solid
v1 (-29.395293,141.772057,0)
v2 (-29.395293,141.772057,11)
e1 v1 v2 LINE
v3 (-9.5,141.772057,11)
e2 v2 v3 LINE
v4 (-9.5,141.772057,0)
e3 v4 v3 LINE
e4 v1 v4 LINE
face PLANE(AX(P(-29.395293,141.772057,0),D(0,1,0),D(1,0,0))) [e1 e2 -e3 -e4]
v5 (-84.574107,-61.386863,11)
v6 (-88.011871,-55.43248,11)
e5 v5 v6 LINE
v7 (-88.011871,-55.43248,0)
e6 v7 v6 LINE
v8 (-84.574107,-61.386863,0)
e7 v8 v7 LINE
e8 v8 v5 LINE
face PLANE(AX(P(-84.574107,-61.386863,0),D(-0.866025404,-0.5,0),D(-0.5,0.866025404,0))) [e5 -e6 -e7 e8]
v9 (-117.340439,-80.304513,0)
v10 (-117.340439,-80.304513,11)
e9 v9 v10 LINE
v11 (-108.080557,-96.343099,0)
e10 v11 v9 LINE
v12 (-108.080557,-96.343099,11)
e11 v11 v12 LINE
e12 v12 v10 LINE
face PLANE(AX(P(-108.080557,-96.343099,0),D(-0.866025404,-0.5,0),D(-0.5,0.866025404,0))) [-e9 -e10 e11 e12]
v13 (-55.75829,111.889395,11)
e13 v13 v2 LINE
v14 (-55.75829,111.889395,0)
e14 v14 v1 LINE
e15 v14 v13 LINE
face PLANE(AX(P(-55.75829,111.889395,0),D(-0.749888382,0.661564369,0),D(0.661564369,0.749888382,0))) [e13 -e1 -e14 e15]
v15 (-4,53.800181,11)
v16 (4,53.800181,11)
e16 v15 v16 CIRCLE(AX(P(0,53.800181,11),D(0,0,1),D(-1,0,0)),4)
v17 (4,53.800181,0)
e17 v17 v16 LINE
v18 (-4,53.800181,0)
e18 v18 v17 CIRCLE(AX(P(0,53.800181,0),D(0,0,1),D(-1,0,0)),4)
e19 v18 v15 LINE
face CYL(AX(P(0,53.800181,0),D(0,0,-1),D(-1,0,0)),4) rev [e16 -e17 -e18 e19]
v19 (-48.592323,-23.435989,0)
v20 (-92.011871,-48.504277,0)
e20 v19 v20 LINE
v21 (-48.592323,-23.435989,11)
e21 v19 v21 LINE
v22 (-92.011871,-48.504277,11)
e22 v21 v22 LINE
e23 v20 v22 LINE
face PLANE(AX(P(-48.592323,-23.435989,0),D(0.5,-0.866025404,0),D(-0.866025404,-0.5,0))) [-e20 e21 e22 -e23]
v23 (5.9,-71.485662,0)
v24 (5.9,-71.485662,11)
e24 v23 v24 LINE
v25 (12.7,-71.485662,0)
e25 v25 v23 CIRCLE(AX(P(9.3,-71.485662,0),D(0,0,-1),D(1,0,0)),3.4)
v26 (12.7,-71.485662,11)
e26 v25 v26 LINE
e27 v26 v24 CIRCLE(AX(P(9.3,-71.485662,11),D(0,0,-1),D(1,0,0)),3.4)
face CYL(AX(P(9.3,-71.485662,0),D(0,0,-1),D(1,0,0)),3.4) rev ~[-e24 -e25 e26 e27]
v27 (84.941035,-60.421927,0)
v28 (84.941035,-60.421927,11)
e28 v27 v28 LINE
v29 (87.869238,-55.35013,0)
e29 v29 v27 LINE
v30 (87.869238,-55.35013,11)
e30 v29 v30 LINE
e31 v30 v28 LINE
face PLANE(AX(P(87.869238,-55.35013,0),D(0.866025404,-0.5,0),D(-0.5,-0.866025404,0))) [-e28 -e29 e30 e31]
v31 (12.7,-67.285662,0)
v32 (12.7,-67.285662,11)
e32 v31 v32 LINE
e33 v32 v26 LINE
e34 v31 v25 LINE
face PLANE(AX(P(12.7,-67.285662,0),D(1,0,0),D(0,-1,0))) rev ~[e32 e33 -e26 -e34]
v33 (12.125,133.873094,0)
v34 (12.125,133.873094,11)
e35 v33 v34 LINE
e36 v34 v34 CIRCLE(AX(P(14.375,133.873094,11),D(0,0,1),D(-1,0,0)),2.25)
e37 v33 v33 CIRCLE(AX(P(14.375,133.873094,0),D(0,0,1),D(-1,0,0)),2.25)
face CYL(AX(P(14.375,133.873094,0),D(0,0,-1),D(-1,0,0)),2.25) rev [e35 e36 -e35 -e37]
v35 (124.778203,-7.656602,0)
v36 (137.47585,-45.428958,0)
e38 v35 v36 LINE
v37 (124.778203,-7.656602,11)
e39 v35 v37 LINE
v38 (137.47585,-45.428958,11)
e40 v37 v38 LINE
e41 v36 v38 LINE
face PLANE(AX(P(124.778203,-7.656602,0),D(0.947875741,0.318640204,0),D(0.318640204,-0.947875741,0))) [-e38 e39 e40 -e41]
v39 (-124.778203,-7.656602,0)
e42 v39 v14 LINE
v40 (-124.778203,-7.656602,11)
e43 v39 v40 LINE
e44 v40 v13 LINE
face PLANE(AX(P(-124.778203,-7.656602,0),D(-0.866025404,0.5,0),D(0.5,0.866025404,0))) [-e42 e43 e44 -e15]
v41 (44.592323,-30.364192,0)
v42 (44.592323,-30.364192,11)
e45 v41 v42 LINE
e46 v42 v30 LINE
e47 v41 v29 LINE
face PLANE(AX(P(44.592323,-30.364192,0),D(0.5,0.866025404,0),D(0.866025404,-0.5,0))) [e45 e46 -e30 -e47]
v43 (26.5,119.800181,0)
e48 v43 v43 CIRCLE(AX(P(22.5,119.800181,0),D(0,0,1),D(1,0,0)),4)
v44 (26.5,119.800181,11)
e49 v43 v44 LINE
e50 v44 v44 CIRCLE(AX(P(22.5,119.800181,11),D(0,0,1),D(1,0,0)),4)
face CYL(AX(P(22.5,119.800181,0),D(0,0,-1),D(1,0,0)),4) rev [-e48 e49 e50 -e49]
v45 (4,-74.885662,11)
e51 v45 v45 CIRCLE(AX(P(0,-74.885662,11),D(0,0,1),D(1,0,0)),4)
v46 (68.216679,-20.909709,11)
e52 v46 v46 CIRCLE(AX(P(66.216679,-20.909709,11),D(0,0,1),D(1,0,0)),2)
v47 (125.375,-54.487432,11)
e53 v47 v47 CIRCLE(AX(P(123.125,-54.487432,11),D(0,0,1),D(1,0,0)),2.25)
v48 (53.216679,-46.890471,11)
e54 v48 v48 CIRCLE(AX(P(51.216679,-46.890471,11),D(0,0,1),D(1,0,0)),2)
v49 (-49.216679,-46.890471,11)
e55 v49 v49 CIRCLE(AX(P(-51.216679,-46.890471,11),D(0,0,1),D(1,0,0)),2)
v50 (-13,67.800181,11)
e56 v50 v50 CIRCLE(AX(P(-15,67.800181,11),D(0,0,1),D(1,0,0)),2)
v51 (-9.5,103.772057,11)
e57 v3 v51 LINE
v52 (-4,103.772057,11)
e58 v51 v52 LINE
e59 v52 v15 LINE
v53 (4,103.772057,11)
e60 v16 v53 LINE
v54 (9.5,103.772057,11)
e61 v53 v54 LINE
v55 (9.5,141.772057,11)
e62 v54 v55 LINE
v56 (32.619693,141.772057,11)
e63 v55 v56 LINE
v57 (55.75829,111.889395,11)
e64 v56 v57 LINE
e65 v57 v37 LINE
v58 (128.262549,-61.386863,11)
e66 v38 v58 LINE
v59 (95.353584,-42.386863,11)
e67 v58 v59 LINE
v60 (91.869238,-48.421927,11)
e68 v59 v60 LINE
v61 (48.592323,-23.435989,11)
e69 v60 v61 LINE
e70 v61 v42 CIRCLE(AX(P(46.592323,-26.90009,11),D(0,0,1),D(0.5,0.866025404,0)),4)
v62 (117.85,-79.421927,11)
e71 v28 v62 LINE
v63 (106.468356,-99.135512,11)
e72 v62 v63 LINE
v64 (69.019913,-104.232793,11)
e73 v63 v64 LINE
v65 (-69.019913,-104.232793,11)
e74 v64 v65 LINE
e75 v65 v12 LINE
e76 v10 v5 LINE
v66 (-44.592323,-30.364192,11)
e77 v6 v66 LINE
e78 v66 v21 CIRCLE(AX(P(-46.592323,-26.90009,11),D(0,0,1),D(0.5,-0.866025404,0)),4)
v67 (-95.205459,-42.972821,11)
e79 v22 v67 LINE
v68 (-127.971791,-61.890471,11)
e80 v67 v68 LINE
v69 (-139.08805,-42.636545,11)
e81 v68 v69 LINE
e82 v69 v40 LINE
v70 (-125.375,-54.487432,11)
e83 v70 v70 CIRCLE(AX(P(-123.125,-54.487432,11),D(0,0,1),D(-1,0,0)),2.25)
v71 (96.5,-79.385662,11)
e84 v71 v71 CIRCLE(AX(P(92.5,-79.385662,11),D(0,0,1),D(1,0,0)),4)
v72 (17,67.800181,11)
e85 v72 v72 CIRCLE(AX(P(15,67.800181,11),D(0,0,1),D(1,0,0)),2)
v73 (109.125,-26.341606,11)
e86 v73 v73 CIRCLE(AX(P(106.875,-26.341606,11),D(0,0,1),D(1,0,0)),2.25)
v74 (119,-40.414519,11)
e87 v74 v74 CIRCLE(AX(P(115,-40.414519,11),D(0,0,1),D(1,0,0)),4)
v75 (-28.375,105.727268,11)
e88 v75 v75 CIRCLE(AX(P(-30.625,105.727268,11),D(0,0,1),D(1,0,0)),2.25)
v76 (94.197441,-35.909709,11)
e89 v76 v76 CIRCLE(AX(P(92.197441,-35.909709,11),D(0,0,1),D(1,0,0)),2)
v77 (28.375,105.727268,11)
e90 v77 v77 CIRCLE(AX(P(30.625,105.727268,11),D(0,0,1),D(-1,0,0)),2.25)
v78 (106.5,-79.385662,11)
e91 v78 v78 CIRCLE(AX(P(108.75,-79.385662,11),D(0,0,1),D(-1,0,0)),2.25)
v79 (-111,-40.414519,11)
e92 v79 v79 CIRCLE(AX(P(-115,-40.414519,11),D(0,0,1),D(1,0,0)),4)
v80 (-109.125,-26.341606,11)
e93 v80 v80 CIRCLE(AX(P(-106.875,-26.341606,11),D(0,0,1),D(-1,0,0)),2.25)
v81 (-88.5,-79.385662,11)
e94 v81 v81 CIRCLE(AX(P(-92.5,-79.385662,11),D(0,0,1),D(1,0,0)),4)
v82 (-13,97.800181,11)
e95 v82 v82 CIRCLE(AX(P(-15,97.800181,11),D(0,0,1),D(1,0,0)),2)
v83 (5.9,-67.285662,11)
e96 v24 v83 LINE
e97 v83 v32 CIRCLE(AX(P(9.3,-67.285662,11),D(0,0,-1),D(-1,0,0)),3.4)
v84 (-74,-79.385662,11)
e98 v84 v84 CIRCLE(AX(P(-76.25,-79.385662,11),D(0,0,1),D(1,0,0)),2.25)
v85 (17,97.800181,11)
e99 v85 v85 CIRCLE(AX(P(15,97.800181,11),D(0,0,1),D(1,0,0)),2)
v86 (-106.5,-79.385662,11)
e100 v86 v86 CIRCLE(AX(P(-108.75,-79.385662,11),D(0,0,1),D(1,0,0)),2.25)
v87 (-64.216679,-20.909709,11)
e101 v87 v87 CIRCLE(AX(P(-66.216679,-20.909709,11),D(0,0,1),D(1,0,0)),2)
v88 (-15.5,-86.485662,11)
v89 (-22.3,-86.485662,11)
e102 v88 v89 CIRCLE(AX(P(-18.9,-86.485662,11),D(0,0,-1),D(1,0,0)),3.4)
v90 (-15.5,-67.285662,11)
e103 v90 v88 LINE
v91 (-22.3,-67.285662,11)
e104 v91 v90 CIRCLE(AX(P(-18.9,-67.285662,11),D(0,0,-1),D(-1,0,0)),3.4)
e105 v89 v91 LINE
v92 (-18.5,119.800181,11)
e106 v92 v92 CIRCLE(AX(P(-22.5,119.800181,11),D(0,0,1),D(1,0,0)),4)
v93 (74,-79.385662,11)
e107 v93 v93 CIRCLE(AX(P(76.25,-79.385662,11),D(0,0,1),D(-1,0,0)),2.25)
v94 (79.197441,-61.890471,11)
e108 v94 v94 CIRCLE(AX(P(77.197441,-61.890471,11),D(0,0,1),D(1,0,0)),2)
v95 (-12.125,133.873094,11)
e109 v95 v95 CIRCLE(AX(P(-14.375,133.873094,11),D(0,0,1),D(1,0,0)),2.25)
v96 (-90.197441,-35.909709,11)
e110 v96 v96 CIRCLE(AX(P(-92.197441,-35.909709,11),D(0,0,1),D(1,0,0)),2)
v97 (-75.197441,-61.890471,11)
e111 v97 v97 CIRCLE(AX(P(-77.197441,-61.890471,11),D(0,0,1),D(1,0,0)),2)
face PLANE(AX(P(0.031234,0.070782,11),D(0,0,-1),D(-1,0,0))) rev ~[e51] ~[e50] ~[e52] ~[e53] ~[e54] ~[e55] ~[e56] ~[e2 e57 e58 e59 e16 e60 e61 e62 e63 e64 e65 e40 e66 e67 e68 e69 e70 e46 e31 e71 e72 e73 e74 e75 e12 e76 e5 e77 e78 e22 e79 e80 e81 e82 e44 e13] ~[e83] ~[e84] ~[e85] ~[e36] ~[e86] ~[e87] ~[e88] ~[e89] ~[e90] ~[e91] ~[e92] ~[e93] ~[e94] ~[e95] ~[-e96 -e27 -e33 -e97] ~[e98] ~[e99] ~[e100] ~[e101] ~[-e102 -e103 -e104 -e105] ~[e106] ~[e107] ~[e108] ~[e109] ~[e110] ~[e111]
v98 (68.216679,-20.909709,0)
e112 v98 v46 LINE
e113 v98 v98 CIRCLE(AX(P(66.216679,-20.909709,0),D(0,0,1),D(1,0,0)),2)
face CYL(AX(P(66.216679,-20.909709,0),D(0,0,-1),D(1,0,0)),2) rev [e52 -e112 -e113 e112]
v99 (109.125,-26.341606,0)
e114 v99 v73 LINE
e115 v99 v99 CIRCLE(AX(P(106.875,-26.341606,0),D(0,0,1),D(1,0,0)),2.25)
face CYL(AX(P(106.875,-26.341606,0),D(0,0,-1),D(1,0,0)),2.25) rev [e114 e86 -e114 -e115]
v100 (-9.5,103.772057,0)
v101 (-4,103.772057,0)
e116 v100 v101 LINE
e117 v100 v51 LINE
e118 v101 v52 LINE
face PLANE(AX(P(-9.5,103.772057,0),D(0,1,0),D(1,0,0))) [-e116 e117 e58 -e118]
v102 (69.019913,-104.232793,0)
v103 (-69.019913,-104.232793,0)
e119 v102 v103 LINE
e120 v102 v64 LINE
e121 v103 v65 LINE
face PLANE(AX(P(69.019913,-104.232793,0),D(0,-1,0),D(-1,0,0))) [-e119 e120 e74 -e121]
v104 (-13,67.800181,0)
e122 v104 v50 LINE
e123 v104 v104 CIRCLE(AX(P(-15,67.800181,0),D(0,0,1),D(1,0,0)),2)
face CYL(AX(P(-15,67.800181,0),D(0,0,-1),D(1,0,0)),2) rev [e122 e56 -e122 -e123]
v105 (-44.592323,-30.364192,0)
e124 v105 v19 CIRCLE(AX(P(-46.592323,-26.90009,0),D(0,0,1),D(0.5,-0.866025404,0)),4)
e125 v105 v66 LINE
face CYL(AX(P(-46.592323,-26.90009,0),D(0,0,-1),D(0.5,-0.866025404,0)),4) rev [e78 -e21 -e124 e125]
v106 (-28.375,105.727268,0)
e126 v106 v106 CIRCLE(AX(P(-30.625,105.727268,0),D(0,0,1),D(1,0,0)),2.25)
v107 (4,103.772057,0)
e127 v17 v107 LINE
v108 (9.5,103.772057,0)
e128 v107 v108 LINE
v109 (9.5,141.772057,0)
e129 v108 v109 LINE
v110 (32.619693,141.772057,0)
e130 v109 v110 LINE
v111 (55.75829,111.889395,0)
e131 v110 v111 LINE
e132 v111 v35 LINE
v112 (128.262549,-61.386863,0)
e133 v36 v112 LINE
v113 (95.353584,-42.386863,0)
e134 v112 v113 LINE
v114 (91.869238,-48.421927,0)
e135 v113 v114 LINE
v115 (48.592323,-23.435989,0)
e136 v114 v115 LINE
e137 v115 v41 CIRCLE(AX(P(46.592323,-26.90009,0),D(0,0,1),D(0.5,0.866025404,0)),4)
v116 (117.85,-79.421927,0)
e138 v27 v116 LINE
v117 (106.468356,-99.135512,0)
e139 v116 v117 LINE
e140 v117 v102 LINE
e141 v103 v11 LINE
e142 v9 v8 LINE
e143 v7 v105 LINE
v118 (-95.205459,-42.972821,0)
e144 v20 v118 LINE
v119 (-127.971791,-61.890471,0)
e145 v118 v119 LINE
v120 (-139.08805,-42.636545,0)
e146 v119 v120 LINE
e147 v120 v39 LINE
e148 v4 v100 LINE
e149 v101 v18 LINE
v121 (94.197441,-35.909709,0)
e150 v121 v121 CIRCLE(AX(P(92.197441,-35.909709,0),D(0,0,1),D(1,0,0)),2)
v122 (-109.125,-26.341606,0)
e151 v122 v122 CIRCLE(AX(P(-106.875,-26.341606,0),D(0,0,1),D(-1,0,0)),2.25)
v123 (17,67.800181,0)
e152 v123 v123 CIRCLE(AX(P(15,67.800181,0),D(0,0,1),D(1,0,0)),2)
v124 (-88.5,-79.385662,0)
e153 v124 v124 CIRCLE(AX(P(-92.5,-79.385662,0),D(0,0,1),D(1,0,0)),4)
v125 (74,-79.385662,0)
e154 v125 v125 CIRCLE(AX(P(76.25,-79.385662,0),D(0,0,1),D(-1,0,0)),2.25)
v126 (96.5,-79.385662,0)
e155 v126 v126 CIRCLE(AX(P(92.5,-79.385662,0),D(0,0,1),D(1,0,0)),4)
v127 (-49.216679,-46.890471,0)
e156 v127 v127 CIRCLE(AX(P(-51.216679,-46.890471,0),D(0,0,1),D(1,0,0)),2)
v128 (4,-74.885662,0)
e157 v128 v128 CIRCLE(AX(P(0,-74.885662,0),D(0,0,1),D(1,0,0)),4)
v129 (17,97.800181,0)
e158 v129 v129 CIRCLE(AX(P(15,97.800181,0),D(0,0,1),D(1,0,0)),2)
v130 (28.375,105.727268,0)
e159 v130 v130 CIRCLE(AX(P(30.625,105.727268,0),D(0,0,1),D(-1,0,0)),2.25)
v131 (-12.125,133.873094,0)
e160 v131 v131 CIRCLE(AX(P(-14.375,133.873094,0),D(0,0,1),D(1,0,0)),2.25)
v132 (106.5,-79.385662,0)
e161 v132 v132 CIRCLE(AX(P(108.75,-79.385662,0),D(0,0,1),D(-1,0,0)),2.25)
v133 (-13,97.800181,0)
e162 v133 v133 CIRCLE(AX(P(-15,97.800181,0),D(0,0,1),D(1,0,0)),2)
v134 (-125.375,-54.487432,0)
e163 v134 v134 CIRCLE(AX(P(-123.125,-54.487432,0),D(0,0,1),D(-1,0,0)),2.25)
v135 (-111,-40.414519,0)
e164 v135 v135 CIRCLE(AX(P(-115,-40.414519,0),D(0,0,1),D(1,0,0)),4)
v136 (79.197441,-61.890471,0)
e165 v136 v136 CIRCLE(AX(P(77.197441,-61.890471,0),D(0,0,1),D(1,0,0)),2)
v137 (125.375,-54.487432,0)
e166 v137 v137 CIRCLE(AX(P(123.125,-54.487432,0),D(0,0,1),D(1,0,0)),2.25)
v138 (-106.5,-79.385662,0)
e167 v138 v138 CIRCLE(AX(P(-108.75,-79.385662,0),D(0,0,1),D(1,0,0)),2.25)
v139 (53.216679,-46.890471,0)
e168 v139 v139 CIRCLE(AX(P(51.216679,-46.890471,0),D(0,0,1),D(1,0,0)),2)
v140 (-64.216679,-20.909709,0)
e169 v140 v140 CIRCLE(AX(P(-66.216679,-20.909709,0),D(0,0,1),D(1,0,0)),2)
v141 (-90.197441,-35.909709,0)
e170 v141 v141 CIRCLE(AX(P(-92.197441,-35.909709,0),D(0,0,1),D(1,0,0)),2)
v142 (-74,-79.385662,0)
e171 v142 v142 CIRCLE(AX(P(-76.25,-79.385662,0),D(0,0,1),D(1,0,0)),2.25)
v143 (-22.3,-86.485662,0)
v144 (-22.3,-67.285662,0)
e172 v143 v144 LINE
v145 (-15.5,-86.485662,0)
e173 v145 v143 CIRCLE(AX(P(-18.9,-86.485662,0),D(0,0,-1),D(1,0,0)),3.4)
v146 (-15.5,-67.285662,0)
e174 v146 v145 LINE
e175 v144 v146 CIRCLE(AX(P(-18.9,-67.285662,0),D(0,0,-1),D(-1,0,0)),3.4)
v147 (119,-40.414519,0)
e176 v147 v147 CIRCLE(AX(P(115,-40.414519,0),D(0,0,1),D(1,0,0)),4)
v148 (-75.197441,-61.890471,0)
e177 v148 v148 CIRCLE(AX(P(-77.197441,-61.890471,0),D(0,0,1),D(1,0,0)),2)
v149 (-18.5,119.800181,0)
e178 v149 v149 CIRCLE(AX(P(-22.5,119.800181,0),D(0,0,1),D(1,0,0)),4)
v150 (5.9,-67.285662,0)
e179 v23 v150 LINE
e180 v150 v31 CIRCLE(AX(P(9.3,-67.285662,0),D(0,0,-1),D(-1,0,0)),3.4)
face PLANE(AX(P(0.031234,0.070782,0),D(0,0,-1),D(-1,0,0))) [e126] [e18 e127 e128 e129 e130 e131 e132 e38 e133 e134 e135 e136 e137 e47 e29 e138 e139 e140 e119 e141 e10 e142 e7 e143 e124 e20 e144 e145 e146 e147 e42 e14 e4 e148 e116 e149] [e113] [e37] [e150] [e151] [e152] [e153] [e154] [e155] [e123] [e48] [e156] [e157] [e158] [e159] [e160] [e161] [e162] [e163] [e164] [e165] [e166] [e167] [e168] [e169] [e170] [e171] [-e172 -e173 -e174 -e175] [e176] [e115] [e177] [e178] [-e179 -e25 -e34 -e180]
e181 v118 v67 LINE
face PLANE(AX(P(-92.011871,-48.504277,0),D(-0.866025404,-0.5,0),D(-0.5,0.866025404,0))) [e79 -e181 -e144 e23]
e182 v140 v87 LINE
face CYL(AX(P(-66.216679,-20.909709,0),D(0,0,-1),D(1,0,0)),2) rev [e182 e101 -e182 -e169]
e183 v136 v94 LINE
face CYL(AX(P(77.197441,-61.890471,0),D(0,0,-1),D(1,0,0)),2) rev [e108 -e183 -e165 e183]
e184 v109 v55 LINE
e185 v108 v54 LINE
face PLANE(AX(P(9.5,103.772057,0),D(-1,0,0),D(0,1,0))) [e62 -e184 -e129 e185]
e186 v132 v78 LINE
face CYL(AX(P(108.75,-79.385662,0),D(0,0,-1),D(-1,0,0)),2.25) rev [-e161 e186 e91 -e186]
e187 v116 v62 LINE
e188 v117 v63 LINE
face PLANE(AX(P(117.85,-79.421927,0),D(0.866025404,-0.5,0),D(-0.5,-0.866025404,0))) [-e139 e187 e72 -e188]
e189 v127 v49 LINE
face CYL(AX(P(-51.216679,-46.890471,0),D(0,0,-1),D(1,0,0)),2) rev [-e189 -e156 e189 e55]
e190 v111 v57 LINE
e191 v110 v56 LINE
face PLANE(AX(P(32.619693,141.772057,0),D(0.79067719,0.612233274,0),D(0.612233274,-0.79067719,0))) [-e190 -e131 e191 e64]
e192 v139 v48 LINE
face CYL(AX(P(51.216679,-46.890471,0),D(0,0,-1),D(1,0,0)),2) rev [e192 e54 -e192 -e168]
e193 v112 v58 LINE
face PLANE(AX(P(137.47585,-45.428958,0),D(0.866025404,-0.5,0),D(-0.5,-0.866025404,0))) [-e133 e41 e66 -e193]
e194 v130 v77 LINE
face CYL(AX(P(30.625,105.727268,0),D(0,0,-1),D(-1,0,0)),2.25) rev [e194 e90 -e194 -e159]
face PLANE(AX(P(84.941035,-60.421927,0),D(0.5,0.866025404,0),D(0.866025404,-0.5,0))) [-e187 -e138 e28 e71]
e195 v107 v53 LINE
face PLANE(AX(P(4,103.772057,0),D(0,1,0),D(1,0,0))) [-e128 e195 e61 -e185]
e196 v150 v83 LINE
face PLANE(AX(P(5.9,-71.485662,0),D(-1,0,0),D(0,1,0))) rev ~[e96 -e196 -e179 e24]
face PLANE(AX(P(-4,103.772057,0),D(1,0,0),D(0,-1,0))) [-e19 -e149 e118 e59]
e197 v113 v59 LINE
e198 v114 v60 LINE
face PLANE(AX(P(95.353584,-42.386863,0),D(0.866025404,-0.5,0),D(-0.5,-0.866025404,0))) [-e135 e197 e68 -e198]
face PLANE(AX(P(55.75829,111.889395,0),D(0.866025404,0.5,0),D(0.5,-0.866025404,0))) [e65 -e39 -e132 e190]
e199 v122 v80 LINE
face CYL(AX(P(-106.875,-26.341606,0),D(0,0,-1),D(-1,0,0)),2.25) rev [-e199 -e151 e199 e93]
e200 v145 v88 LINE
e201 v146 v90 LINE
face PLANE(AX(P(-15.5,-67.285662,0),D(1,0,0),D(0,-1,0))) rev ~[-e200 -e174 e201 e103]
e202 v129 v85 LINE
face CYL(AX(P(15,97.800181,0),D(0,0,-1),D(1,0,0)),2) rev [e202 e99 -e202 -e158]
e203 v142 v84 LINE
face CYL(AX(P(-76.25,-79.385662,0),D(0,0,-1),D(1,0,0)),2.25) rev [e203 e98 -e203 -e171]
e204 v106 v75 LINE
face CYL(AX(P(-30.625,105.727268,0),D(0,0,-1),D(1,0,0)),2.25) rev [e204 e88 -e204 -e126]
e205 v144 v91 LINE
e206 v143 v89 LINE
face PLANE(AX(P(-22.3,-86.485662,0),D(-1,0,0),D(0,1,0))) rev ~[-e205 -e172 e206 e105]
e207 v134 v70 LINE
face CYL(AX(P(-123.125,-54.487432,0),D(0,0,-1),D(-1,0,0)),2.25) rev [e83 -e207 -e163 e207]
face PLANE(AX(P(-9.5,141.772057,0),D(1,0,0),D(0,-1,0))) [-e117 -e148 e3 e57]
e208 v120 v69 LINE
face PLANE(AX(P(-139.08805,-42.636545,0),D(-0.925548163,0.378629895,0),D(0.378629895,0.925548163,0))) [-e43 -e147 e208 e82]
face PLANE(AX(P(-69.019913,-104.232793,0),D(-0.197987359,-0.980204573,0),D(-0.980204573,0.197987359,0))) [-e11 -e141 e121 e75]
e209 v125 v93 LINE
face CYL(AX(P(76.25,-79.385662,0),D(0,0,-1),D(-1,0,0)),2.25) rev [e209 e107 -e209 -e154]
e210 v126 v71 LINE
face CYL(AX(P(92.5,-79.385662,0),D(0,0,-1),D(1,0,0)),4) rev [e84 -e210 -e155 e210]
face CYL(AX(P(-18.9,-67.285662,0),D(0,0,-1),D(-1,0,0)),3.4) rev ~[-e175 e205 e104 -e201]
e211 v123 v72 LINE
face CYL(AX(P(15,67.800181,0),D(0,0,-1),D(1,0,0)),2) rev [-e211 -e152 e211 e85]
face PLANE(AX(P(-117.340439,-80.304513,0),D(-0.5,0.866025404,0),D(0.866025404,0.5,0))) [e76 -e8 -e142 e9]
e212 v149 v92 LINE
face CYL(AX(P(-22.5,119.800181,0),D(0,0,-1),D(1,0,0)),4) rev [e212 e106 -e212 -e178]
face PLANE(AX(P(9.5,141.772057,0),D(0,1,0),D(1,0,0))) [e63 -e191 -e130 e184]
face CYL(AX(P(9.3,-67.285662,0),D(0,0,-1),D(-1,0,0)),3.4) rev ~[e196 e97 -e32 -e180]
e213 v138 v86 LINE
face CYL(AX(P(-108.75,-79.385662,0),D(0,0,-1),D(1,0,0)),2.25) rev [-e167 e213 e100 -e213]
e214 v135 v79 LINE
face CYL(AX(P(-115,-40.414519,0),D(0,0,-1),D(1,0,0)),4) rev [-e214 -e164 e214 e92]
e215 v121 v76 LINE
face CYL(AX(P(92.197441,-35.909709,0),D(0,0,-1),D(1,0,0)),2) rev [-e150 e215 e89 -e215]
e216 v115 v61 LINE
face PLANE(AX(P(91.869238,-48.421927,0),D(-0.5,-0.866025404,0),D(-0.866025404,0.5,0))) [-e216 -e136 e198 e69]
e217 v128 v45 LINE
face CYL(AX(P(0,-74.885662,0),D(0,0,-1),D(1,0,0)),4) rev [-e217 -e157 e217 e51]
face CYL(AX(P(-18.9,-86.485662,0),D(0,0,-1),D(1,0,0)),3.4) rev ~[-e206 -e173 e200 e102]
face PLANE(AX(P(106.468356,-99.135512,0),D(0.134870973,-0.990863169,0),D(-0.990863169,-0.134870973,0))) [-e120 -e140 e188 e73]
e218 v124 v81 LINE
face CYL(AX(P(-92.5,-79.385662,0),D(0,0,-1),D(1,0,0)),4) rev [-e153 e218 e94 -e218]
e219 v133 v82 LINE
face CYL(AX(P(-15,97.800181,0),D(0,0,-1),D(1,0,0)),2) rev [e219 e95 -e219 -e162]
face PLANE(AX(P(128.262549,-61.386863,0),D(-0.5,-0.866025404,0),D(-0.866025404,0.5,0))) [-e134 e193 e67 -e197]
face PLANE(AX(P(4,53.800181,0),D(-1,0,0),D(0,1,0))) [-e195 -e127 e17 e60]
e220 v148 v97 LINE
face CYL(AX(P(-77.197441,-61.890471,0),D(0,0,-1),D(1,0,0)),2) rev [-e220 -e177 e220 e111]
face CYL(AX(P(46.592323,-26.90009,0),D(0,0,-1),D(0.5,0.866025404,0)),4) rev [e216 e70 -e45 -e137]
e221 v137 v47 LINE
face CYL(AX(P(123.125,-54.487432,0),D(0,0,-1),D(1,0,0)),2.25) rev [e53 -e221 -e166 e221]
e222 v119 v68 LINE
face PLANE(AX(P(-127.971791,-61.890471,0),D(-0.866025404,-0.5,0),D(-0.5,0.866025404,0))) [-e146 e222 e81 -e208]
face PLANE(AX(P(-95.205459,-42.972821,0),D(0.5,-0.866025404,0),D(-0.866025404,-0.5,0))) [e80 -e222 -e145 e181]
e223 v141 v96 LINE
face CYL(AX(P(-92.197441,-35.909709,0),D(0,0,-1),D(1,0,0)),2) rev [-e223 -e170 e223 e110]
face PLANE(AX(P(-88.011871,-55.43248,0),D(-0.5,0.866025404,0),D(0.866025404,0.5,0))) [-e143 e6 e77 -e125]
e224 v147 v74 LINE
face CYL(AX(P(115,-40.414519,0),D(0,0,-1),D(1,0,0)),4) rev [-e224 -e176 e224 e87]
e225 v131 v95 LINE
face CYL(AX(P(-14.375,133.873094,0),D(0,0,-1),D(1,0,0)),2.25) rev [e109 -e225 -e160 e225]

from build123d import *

# Parameters (mm, degrees)
ESQUISSE1_R        = 2
ESQUISSE1_R_2      = 4
ESQUISSE1_R_3      = 2.25
BOSS_EXTRU_1_DEPTH = 11


with BuildPart() as part:
    # Esquisse1 → Boss.-Extru.1 (new body)
    with BuildSketch(Plane.XY):
        with BuildLine():
            Line((55.7582898, 111.889394822), (124.778203229, -7.656601971))
            Line((124.778203229, -7.656601971), (137.475849877, -45.428957942))
            Line((137.475849877, -45.428957942), (128.262549161, -61.386862887))
            Line((128.262549161, -61.386862887), (95.353583818, -42.386862887))
            Line((95.353583818, -42.386862887), (91.869237886, -48.42192707))
            Line((91.869237886, -48.42192707), (48.59232335, -23.435988813))
            ThreePointArc((48.59232335, -23.435988813), (43.128221735, -24.900090428), (44.59232335, -30.364192044))
            Line((44.59232335, -30.364192044), (87.869237886, -55.350130301))
            Line((87.869237886, -55.350130301), (84.941034656, -60.42192707))
            Line((84.941034656, -60.42192707), (117.85, -79.42192707))
            Line((117.85, -79.42192707), (106.4683565, -99.135511886))
            Line((106.4683565, -99.135511886), (69.01991343, -104.23279285))
            Line((69.01991343, -104.23279285), (-69.019913428, -104.23279285))
            Line((-69.019913428, -104.23279285), (-108.080556584, -96.343099429))
            Line((-108.080556584, -96.343099429), (-117.340438531, -80.304513424))
            Line((-117.340438531, -80.304513424), (-84.574106641, -61.386862887))
            Line((-84.574106641, -61.386862887), (-88.01187134, -55.432479764))
            Line((-88.01187134, -55.432479764), (-44.59232335, -30.364192044))
            ThreePointArc((-44.59232335, -30.364192044), (-43.128221735, -24.900090428), (-48.59232335, -23.435988813))
            Line((-48.59232335, -23.435988813), (-92.01187134, -48.504276533))
            Line((-92.01187134, -48.504276533), (-95.205458711, -42.972820948))
            Line((-95.205458711, -42.972820948), (-127.971790601, -61.890471485))
            Line((-127.971790601, -61.890471485), (-139.088049961, -42.636545485))
            Line((-139.088049961, -42.636545485), (-124.77820323, -7.656601972))
            Line((-124.77820323, -7.656601972), (-55.758289801, 111.889394821))
            Line((-55.758289801, 111.889394821), (-29.395293293, 141.772057371))
            Line((-29.395293293, 141.772057371), (-9.5, 141.772057371))
            Line((-9.5, 141.772057371), (-9.5, 103.772057371))
            Line((-9.5, 103.772057371), (-4, 103.772057371))
            Line((-4, 103.772057371), (-4, 53.800180857))
            ThreePointArc((-4, 53.800180857), (0, 49.800180857), (4, 53.800180857))
            Line((4, 53.800180857), (4, 103.772057371))
            Line((4, 103.772057371), (9.5, 103.772057371))
            Line((9.5, 103.772057371), (9.5, 141.772057371))
            Line((9.5, 141.772057371), (32.619693461, 141.772057371))
            Line((32.619693461, 141.772057371), (55.7582898, 111.889394822))
        make_face()
        with Locations((-92.197441117, -35.909709372)):
            Circle(ESQUISSE1_R, mode=Mode.SUBTRACT)
        with Locations((-66.216679003, -20.909709372)):
            Circle(ESQUISSE1_R, mode=Mode.SUBTRACT)
        with Locations((-51.216679003, -46.890471485)):
            Circle(ESQUISSE1_R, mode=Mode.SUBTRACT)
        with Locations((-77.197441117, -61.890471485)):
            Circle(ESQUISSE1_R, mode=Mode.SUBTRACT)
        with Locations((-15, 97.800180857)):
            Circle(ESQUISSE1_R, mode=Mode.SUBTRACT)
        with Locations((-15, 67.800180857)):
            Circle(ESQUISSE1_R, mode=Mode.SUBTRACT)
        with Locations((15, 67.800180857)):
            Circle(ESQUISSE1_R, mode=Mode.SUBTRACT)
        with Locations((15, 97.800180857)):
            Circle(ESQUISSE1_R, mode=Mode.SUBTRACT)
        with Locations((22.5, 119.800180857)):
            Circle(ESQUISSE1_R_2, mode=Mode.SUBTRACT)
        with Locations((-22.5, 119.800180857)):
            Circle(ESQUISSE1_R_2, mode=Mode.SUBTRACT)
        with Locations((-115, -40.414518843)):
            Circle(ESQUISSE1_R_2, mode=Mode.SUBTRACT)
        with Locations((-92.5, -79.385662014)):
            Circle(ESQUISSE1_R_2, mode=Mode.SUBTRACT)
        with Locations((92.5, -79.385662014)):
            Circle(ESQUISSE1_R_2, mode=Mode.SUBTRACT)
        with Locations((115, -40.414518843)):
            Circle(ESQUISSE1_R_2, mode=Mode.SUBTRACT)
        with Locations((92.197441117, -35.909709372)):
            Circle(ESQUISSE1_R, mode=Mode.SUBTRACT)
        with Locations((66.216679003, -20.909709372)):
            Circle(ESQUISSE1_R, mode=Mode.SUBTRACT)
        with Locations((51.216679003, -46.890471485)):
            Circle(ESQUISSE1_R, mode=Mode.SUBTRACT)
        with Locations((77.197441117, -61.890471485)):
            Circle(ESQUISSE1_R, mode=Mode.SUBTRACT)
        with Locations((0, -74.885662014)):
            Circle(ESQUISSE1_R_2, mode=Mode.SUBTRACT)
        with Locations((-76.25, -79.385662014)):
            Circle(ESQUISSE1_R_3, mode=Mode.SUBTRACT)
        with Locations((-108.75, -79.385662014)):
            Circle(ESQUISSE1_R_3, mode=Mode.SUBTRACT)
        with Locations(Location((-106.875, -26.341606032, 0), (0, 0, 180))):
            Circle(ESQUISSE1_R_3, mode=Mode.SUBTRACT)
        with Locations(Location((-123.125, -54.487431655, 0), (0, 0, 180))):
            Circle(ESQUISSE1_R_3, mode=Mode.SUBTRACT)
        with Locations(Location((14.375, 133.873093668, 0), (0, 0, 180))):
            Circle(ESQUISSE1_R_3, mode=Mode.SUBTRACT)
        with Locations(Location((30.625, 105.727268045, 0), (0, 0, 180))):
            Circle(ESQUISSE1_R_3, mode=Mode.SUBTRACT)
        with Locations((-14.375, 133.873093668)):
            Circle(ESQUISSE1_R_3, mode=Mode.SUBTRACT)
        with Locations((-30.625, 105.727268045)):
            Circle(ESQUISSE1_R_3, mode=Mode.SUBTRACT)
        with Locations(Location((108.75, -79.385662014, 0), (0, 0, 180))):
            Circle(ESQUISSE1_R_3, mode=Mode.SUBTRACT)
        with Locations(Location((76.25, -79.385662014, 0), (0, 0, 180))):
            Circle(ESQUISSE1_R_3, mode=Mode.SUBTRACT)
        with Locations((123.125, -54.487431655)):
            Circle(ESQUISSE1_R_3, mode=Mode.SUBTRACT)
        with Locations((106.875, -26.341606032)):
            Circle(ESQUISSE1_R_3, mode=Mode.SUBTRACT)
        with BuildLine():
            Line((-15.5, -67.285662014), (-15.5, -86.485662014))
            ThreePointArc((-15.5, -86.485662014), (-18.9, -89.885662014), (-22.3, -86.485662014))
            Line((-22.3, -86.485662014), (-22.3, -67.285662014))
            ThreePointArc((-22.3, -67.285662014), (-18.9, -63.885662014), (-15.5, -67.285662014))
        make_face(mode=Mode.SUBTRACT)
        with BuildLine():
            Line((12.7, -67.285662014), (12.7, -71.485662014))
            ThreePointArc((12.7, -71.485662014), (9.3, -74.885662014), (5.9, -71.485662014))
            Line((5.9, -71.485662014), (5.9, -67.285662014))
            ThreePointArc((5.9, -67.285662014), (9.3, -63.885662014), (12.7, -67.285662014))
        make_face(mode=Mode.SUBTRACT)
    extrude(amount=BOSS_EXTRU_1_DEPTH)


solid = part.part
